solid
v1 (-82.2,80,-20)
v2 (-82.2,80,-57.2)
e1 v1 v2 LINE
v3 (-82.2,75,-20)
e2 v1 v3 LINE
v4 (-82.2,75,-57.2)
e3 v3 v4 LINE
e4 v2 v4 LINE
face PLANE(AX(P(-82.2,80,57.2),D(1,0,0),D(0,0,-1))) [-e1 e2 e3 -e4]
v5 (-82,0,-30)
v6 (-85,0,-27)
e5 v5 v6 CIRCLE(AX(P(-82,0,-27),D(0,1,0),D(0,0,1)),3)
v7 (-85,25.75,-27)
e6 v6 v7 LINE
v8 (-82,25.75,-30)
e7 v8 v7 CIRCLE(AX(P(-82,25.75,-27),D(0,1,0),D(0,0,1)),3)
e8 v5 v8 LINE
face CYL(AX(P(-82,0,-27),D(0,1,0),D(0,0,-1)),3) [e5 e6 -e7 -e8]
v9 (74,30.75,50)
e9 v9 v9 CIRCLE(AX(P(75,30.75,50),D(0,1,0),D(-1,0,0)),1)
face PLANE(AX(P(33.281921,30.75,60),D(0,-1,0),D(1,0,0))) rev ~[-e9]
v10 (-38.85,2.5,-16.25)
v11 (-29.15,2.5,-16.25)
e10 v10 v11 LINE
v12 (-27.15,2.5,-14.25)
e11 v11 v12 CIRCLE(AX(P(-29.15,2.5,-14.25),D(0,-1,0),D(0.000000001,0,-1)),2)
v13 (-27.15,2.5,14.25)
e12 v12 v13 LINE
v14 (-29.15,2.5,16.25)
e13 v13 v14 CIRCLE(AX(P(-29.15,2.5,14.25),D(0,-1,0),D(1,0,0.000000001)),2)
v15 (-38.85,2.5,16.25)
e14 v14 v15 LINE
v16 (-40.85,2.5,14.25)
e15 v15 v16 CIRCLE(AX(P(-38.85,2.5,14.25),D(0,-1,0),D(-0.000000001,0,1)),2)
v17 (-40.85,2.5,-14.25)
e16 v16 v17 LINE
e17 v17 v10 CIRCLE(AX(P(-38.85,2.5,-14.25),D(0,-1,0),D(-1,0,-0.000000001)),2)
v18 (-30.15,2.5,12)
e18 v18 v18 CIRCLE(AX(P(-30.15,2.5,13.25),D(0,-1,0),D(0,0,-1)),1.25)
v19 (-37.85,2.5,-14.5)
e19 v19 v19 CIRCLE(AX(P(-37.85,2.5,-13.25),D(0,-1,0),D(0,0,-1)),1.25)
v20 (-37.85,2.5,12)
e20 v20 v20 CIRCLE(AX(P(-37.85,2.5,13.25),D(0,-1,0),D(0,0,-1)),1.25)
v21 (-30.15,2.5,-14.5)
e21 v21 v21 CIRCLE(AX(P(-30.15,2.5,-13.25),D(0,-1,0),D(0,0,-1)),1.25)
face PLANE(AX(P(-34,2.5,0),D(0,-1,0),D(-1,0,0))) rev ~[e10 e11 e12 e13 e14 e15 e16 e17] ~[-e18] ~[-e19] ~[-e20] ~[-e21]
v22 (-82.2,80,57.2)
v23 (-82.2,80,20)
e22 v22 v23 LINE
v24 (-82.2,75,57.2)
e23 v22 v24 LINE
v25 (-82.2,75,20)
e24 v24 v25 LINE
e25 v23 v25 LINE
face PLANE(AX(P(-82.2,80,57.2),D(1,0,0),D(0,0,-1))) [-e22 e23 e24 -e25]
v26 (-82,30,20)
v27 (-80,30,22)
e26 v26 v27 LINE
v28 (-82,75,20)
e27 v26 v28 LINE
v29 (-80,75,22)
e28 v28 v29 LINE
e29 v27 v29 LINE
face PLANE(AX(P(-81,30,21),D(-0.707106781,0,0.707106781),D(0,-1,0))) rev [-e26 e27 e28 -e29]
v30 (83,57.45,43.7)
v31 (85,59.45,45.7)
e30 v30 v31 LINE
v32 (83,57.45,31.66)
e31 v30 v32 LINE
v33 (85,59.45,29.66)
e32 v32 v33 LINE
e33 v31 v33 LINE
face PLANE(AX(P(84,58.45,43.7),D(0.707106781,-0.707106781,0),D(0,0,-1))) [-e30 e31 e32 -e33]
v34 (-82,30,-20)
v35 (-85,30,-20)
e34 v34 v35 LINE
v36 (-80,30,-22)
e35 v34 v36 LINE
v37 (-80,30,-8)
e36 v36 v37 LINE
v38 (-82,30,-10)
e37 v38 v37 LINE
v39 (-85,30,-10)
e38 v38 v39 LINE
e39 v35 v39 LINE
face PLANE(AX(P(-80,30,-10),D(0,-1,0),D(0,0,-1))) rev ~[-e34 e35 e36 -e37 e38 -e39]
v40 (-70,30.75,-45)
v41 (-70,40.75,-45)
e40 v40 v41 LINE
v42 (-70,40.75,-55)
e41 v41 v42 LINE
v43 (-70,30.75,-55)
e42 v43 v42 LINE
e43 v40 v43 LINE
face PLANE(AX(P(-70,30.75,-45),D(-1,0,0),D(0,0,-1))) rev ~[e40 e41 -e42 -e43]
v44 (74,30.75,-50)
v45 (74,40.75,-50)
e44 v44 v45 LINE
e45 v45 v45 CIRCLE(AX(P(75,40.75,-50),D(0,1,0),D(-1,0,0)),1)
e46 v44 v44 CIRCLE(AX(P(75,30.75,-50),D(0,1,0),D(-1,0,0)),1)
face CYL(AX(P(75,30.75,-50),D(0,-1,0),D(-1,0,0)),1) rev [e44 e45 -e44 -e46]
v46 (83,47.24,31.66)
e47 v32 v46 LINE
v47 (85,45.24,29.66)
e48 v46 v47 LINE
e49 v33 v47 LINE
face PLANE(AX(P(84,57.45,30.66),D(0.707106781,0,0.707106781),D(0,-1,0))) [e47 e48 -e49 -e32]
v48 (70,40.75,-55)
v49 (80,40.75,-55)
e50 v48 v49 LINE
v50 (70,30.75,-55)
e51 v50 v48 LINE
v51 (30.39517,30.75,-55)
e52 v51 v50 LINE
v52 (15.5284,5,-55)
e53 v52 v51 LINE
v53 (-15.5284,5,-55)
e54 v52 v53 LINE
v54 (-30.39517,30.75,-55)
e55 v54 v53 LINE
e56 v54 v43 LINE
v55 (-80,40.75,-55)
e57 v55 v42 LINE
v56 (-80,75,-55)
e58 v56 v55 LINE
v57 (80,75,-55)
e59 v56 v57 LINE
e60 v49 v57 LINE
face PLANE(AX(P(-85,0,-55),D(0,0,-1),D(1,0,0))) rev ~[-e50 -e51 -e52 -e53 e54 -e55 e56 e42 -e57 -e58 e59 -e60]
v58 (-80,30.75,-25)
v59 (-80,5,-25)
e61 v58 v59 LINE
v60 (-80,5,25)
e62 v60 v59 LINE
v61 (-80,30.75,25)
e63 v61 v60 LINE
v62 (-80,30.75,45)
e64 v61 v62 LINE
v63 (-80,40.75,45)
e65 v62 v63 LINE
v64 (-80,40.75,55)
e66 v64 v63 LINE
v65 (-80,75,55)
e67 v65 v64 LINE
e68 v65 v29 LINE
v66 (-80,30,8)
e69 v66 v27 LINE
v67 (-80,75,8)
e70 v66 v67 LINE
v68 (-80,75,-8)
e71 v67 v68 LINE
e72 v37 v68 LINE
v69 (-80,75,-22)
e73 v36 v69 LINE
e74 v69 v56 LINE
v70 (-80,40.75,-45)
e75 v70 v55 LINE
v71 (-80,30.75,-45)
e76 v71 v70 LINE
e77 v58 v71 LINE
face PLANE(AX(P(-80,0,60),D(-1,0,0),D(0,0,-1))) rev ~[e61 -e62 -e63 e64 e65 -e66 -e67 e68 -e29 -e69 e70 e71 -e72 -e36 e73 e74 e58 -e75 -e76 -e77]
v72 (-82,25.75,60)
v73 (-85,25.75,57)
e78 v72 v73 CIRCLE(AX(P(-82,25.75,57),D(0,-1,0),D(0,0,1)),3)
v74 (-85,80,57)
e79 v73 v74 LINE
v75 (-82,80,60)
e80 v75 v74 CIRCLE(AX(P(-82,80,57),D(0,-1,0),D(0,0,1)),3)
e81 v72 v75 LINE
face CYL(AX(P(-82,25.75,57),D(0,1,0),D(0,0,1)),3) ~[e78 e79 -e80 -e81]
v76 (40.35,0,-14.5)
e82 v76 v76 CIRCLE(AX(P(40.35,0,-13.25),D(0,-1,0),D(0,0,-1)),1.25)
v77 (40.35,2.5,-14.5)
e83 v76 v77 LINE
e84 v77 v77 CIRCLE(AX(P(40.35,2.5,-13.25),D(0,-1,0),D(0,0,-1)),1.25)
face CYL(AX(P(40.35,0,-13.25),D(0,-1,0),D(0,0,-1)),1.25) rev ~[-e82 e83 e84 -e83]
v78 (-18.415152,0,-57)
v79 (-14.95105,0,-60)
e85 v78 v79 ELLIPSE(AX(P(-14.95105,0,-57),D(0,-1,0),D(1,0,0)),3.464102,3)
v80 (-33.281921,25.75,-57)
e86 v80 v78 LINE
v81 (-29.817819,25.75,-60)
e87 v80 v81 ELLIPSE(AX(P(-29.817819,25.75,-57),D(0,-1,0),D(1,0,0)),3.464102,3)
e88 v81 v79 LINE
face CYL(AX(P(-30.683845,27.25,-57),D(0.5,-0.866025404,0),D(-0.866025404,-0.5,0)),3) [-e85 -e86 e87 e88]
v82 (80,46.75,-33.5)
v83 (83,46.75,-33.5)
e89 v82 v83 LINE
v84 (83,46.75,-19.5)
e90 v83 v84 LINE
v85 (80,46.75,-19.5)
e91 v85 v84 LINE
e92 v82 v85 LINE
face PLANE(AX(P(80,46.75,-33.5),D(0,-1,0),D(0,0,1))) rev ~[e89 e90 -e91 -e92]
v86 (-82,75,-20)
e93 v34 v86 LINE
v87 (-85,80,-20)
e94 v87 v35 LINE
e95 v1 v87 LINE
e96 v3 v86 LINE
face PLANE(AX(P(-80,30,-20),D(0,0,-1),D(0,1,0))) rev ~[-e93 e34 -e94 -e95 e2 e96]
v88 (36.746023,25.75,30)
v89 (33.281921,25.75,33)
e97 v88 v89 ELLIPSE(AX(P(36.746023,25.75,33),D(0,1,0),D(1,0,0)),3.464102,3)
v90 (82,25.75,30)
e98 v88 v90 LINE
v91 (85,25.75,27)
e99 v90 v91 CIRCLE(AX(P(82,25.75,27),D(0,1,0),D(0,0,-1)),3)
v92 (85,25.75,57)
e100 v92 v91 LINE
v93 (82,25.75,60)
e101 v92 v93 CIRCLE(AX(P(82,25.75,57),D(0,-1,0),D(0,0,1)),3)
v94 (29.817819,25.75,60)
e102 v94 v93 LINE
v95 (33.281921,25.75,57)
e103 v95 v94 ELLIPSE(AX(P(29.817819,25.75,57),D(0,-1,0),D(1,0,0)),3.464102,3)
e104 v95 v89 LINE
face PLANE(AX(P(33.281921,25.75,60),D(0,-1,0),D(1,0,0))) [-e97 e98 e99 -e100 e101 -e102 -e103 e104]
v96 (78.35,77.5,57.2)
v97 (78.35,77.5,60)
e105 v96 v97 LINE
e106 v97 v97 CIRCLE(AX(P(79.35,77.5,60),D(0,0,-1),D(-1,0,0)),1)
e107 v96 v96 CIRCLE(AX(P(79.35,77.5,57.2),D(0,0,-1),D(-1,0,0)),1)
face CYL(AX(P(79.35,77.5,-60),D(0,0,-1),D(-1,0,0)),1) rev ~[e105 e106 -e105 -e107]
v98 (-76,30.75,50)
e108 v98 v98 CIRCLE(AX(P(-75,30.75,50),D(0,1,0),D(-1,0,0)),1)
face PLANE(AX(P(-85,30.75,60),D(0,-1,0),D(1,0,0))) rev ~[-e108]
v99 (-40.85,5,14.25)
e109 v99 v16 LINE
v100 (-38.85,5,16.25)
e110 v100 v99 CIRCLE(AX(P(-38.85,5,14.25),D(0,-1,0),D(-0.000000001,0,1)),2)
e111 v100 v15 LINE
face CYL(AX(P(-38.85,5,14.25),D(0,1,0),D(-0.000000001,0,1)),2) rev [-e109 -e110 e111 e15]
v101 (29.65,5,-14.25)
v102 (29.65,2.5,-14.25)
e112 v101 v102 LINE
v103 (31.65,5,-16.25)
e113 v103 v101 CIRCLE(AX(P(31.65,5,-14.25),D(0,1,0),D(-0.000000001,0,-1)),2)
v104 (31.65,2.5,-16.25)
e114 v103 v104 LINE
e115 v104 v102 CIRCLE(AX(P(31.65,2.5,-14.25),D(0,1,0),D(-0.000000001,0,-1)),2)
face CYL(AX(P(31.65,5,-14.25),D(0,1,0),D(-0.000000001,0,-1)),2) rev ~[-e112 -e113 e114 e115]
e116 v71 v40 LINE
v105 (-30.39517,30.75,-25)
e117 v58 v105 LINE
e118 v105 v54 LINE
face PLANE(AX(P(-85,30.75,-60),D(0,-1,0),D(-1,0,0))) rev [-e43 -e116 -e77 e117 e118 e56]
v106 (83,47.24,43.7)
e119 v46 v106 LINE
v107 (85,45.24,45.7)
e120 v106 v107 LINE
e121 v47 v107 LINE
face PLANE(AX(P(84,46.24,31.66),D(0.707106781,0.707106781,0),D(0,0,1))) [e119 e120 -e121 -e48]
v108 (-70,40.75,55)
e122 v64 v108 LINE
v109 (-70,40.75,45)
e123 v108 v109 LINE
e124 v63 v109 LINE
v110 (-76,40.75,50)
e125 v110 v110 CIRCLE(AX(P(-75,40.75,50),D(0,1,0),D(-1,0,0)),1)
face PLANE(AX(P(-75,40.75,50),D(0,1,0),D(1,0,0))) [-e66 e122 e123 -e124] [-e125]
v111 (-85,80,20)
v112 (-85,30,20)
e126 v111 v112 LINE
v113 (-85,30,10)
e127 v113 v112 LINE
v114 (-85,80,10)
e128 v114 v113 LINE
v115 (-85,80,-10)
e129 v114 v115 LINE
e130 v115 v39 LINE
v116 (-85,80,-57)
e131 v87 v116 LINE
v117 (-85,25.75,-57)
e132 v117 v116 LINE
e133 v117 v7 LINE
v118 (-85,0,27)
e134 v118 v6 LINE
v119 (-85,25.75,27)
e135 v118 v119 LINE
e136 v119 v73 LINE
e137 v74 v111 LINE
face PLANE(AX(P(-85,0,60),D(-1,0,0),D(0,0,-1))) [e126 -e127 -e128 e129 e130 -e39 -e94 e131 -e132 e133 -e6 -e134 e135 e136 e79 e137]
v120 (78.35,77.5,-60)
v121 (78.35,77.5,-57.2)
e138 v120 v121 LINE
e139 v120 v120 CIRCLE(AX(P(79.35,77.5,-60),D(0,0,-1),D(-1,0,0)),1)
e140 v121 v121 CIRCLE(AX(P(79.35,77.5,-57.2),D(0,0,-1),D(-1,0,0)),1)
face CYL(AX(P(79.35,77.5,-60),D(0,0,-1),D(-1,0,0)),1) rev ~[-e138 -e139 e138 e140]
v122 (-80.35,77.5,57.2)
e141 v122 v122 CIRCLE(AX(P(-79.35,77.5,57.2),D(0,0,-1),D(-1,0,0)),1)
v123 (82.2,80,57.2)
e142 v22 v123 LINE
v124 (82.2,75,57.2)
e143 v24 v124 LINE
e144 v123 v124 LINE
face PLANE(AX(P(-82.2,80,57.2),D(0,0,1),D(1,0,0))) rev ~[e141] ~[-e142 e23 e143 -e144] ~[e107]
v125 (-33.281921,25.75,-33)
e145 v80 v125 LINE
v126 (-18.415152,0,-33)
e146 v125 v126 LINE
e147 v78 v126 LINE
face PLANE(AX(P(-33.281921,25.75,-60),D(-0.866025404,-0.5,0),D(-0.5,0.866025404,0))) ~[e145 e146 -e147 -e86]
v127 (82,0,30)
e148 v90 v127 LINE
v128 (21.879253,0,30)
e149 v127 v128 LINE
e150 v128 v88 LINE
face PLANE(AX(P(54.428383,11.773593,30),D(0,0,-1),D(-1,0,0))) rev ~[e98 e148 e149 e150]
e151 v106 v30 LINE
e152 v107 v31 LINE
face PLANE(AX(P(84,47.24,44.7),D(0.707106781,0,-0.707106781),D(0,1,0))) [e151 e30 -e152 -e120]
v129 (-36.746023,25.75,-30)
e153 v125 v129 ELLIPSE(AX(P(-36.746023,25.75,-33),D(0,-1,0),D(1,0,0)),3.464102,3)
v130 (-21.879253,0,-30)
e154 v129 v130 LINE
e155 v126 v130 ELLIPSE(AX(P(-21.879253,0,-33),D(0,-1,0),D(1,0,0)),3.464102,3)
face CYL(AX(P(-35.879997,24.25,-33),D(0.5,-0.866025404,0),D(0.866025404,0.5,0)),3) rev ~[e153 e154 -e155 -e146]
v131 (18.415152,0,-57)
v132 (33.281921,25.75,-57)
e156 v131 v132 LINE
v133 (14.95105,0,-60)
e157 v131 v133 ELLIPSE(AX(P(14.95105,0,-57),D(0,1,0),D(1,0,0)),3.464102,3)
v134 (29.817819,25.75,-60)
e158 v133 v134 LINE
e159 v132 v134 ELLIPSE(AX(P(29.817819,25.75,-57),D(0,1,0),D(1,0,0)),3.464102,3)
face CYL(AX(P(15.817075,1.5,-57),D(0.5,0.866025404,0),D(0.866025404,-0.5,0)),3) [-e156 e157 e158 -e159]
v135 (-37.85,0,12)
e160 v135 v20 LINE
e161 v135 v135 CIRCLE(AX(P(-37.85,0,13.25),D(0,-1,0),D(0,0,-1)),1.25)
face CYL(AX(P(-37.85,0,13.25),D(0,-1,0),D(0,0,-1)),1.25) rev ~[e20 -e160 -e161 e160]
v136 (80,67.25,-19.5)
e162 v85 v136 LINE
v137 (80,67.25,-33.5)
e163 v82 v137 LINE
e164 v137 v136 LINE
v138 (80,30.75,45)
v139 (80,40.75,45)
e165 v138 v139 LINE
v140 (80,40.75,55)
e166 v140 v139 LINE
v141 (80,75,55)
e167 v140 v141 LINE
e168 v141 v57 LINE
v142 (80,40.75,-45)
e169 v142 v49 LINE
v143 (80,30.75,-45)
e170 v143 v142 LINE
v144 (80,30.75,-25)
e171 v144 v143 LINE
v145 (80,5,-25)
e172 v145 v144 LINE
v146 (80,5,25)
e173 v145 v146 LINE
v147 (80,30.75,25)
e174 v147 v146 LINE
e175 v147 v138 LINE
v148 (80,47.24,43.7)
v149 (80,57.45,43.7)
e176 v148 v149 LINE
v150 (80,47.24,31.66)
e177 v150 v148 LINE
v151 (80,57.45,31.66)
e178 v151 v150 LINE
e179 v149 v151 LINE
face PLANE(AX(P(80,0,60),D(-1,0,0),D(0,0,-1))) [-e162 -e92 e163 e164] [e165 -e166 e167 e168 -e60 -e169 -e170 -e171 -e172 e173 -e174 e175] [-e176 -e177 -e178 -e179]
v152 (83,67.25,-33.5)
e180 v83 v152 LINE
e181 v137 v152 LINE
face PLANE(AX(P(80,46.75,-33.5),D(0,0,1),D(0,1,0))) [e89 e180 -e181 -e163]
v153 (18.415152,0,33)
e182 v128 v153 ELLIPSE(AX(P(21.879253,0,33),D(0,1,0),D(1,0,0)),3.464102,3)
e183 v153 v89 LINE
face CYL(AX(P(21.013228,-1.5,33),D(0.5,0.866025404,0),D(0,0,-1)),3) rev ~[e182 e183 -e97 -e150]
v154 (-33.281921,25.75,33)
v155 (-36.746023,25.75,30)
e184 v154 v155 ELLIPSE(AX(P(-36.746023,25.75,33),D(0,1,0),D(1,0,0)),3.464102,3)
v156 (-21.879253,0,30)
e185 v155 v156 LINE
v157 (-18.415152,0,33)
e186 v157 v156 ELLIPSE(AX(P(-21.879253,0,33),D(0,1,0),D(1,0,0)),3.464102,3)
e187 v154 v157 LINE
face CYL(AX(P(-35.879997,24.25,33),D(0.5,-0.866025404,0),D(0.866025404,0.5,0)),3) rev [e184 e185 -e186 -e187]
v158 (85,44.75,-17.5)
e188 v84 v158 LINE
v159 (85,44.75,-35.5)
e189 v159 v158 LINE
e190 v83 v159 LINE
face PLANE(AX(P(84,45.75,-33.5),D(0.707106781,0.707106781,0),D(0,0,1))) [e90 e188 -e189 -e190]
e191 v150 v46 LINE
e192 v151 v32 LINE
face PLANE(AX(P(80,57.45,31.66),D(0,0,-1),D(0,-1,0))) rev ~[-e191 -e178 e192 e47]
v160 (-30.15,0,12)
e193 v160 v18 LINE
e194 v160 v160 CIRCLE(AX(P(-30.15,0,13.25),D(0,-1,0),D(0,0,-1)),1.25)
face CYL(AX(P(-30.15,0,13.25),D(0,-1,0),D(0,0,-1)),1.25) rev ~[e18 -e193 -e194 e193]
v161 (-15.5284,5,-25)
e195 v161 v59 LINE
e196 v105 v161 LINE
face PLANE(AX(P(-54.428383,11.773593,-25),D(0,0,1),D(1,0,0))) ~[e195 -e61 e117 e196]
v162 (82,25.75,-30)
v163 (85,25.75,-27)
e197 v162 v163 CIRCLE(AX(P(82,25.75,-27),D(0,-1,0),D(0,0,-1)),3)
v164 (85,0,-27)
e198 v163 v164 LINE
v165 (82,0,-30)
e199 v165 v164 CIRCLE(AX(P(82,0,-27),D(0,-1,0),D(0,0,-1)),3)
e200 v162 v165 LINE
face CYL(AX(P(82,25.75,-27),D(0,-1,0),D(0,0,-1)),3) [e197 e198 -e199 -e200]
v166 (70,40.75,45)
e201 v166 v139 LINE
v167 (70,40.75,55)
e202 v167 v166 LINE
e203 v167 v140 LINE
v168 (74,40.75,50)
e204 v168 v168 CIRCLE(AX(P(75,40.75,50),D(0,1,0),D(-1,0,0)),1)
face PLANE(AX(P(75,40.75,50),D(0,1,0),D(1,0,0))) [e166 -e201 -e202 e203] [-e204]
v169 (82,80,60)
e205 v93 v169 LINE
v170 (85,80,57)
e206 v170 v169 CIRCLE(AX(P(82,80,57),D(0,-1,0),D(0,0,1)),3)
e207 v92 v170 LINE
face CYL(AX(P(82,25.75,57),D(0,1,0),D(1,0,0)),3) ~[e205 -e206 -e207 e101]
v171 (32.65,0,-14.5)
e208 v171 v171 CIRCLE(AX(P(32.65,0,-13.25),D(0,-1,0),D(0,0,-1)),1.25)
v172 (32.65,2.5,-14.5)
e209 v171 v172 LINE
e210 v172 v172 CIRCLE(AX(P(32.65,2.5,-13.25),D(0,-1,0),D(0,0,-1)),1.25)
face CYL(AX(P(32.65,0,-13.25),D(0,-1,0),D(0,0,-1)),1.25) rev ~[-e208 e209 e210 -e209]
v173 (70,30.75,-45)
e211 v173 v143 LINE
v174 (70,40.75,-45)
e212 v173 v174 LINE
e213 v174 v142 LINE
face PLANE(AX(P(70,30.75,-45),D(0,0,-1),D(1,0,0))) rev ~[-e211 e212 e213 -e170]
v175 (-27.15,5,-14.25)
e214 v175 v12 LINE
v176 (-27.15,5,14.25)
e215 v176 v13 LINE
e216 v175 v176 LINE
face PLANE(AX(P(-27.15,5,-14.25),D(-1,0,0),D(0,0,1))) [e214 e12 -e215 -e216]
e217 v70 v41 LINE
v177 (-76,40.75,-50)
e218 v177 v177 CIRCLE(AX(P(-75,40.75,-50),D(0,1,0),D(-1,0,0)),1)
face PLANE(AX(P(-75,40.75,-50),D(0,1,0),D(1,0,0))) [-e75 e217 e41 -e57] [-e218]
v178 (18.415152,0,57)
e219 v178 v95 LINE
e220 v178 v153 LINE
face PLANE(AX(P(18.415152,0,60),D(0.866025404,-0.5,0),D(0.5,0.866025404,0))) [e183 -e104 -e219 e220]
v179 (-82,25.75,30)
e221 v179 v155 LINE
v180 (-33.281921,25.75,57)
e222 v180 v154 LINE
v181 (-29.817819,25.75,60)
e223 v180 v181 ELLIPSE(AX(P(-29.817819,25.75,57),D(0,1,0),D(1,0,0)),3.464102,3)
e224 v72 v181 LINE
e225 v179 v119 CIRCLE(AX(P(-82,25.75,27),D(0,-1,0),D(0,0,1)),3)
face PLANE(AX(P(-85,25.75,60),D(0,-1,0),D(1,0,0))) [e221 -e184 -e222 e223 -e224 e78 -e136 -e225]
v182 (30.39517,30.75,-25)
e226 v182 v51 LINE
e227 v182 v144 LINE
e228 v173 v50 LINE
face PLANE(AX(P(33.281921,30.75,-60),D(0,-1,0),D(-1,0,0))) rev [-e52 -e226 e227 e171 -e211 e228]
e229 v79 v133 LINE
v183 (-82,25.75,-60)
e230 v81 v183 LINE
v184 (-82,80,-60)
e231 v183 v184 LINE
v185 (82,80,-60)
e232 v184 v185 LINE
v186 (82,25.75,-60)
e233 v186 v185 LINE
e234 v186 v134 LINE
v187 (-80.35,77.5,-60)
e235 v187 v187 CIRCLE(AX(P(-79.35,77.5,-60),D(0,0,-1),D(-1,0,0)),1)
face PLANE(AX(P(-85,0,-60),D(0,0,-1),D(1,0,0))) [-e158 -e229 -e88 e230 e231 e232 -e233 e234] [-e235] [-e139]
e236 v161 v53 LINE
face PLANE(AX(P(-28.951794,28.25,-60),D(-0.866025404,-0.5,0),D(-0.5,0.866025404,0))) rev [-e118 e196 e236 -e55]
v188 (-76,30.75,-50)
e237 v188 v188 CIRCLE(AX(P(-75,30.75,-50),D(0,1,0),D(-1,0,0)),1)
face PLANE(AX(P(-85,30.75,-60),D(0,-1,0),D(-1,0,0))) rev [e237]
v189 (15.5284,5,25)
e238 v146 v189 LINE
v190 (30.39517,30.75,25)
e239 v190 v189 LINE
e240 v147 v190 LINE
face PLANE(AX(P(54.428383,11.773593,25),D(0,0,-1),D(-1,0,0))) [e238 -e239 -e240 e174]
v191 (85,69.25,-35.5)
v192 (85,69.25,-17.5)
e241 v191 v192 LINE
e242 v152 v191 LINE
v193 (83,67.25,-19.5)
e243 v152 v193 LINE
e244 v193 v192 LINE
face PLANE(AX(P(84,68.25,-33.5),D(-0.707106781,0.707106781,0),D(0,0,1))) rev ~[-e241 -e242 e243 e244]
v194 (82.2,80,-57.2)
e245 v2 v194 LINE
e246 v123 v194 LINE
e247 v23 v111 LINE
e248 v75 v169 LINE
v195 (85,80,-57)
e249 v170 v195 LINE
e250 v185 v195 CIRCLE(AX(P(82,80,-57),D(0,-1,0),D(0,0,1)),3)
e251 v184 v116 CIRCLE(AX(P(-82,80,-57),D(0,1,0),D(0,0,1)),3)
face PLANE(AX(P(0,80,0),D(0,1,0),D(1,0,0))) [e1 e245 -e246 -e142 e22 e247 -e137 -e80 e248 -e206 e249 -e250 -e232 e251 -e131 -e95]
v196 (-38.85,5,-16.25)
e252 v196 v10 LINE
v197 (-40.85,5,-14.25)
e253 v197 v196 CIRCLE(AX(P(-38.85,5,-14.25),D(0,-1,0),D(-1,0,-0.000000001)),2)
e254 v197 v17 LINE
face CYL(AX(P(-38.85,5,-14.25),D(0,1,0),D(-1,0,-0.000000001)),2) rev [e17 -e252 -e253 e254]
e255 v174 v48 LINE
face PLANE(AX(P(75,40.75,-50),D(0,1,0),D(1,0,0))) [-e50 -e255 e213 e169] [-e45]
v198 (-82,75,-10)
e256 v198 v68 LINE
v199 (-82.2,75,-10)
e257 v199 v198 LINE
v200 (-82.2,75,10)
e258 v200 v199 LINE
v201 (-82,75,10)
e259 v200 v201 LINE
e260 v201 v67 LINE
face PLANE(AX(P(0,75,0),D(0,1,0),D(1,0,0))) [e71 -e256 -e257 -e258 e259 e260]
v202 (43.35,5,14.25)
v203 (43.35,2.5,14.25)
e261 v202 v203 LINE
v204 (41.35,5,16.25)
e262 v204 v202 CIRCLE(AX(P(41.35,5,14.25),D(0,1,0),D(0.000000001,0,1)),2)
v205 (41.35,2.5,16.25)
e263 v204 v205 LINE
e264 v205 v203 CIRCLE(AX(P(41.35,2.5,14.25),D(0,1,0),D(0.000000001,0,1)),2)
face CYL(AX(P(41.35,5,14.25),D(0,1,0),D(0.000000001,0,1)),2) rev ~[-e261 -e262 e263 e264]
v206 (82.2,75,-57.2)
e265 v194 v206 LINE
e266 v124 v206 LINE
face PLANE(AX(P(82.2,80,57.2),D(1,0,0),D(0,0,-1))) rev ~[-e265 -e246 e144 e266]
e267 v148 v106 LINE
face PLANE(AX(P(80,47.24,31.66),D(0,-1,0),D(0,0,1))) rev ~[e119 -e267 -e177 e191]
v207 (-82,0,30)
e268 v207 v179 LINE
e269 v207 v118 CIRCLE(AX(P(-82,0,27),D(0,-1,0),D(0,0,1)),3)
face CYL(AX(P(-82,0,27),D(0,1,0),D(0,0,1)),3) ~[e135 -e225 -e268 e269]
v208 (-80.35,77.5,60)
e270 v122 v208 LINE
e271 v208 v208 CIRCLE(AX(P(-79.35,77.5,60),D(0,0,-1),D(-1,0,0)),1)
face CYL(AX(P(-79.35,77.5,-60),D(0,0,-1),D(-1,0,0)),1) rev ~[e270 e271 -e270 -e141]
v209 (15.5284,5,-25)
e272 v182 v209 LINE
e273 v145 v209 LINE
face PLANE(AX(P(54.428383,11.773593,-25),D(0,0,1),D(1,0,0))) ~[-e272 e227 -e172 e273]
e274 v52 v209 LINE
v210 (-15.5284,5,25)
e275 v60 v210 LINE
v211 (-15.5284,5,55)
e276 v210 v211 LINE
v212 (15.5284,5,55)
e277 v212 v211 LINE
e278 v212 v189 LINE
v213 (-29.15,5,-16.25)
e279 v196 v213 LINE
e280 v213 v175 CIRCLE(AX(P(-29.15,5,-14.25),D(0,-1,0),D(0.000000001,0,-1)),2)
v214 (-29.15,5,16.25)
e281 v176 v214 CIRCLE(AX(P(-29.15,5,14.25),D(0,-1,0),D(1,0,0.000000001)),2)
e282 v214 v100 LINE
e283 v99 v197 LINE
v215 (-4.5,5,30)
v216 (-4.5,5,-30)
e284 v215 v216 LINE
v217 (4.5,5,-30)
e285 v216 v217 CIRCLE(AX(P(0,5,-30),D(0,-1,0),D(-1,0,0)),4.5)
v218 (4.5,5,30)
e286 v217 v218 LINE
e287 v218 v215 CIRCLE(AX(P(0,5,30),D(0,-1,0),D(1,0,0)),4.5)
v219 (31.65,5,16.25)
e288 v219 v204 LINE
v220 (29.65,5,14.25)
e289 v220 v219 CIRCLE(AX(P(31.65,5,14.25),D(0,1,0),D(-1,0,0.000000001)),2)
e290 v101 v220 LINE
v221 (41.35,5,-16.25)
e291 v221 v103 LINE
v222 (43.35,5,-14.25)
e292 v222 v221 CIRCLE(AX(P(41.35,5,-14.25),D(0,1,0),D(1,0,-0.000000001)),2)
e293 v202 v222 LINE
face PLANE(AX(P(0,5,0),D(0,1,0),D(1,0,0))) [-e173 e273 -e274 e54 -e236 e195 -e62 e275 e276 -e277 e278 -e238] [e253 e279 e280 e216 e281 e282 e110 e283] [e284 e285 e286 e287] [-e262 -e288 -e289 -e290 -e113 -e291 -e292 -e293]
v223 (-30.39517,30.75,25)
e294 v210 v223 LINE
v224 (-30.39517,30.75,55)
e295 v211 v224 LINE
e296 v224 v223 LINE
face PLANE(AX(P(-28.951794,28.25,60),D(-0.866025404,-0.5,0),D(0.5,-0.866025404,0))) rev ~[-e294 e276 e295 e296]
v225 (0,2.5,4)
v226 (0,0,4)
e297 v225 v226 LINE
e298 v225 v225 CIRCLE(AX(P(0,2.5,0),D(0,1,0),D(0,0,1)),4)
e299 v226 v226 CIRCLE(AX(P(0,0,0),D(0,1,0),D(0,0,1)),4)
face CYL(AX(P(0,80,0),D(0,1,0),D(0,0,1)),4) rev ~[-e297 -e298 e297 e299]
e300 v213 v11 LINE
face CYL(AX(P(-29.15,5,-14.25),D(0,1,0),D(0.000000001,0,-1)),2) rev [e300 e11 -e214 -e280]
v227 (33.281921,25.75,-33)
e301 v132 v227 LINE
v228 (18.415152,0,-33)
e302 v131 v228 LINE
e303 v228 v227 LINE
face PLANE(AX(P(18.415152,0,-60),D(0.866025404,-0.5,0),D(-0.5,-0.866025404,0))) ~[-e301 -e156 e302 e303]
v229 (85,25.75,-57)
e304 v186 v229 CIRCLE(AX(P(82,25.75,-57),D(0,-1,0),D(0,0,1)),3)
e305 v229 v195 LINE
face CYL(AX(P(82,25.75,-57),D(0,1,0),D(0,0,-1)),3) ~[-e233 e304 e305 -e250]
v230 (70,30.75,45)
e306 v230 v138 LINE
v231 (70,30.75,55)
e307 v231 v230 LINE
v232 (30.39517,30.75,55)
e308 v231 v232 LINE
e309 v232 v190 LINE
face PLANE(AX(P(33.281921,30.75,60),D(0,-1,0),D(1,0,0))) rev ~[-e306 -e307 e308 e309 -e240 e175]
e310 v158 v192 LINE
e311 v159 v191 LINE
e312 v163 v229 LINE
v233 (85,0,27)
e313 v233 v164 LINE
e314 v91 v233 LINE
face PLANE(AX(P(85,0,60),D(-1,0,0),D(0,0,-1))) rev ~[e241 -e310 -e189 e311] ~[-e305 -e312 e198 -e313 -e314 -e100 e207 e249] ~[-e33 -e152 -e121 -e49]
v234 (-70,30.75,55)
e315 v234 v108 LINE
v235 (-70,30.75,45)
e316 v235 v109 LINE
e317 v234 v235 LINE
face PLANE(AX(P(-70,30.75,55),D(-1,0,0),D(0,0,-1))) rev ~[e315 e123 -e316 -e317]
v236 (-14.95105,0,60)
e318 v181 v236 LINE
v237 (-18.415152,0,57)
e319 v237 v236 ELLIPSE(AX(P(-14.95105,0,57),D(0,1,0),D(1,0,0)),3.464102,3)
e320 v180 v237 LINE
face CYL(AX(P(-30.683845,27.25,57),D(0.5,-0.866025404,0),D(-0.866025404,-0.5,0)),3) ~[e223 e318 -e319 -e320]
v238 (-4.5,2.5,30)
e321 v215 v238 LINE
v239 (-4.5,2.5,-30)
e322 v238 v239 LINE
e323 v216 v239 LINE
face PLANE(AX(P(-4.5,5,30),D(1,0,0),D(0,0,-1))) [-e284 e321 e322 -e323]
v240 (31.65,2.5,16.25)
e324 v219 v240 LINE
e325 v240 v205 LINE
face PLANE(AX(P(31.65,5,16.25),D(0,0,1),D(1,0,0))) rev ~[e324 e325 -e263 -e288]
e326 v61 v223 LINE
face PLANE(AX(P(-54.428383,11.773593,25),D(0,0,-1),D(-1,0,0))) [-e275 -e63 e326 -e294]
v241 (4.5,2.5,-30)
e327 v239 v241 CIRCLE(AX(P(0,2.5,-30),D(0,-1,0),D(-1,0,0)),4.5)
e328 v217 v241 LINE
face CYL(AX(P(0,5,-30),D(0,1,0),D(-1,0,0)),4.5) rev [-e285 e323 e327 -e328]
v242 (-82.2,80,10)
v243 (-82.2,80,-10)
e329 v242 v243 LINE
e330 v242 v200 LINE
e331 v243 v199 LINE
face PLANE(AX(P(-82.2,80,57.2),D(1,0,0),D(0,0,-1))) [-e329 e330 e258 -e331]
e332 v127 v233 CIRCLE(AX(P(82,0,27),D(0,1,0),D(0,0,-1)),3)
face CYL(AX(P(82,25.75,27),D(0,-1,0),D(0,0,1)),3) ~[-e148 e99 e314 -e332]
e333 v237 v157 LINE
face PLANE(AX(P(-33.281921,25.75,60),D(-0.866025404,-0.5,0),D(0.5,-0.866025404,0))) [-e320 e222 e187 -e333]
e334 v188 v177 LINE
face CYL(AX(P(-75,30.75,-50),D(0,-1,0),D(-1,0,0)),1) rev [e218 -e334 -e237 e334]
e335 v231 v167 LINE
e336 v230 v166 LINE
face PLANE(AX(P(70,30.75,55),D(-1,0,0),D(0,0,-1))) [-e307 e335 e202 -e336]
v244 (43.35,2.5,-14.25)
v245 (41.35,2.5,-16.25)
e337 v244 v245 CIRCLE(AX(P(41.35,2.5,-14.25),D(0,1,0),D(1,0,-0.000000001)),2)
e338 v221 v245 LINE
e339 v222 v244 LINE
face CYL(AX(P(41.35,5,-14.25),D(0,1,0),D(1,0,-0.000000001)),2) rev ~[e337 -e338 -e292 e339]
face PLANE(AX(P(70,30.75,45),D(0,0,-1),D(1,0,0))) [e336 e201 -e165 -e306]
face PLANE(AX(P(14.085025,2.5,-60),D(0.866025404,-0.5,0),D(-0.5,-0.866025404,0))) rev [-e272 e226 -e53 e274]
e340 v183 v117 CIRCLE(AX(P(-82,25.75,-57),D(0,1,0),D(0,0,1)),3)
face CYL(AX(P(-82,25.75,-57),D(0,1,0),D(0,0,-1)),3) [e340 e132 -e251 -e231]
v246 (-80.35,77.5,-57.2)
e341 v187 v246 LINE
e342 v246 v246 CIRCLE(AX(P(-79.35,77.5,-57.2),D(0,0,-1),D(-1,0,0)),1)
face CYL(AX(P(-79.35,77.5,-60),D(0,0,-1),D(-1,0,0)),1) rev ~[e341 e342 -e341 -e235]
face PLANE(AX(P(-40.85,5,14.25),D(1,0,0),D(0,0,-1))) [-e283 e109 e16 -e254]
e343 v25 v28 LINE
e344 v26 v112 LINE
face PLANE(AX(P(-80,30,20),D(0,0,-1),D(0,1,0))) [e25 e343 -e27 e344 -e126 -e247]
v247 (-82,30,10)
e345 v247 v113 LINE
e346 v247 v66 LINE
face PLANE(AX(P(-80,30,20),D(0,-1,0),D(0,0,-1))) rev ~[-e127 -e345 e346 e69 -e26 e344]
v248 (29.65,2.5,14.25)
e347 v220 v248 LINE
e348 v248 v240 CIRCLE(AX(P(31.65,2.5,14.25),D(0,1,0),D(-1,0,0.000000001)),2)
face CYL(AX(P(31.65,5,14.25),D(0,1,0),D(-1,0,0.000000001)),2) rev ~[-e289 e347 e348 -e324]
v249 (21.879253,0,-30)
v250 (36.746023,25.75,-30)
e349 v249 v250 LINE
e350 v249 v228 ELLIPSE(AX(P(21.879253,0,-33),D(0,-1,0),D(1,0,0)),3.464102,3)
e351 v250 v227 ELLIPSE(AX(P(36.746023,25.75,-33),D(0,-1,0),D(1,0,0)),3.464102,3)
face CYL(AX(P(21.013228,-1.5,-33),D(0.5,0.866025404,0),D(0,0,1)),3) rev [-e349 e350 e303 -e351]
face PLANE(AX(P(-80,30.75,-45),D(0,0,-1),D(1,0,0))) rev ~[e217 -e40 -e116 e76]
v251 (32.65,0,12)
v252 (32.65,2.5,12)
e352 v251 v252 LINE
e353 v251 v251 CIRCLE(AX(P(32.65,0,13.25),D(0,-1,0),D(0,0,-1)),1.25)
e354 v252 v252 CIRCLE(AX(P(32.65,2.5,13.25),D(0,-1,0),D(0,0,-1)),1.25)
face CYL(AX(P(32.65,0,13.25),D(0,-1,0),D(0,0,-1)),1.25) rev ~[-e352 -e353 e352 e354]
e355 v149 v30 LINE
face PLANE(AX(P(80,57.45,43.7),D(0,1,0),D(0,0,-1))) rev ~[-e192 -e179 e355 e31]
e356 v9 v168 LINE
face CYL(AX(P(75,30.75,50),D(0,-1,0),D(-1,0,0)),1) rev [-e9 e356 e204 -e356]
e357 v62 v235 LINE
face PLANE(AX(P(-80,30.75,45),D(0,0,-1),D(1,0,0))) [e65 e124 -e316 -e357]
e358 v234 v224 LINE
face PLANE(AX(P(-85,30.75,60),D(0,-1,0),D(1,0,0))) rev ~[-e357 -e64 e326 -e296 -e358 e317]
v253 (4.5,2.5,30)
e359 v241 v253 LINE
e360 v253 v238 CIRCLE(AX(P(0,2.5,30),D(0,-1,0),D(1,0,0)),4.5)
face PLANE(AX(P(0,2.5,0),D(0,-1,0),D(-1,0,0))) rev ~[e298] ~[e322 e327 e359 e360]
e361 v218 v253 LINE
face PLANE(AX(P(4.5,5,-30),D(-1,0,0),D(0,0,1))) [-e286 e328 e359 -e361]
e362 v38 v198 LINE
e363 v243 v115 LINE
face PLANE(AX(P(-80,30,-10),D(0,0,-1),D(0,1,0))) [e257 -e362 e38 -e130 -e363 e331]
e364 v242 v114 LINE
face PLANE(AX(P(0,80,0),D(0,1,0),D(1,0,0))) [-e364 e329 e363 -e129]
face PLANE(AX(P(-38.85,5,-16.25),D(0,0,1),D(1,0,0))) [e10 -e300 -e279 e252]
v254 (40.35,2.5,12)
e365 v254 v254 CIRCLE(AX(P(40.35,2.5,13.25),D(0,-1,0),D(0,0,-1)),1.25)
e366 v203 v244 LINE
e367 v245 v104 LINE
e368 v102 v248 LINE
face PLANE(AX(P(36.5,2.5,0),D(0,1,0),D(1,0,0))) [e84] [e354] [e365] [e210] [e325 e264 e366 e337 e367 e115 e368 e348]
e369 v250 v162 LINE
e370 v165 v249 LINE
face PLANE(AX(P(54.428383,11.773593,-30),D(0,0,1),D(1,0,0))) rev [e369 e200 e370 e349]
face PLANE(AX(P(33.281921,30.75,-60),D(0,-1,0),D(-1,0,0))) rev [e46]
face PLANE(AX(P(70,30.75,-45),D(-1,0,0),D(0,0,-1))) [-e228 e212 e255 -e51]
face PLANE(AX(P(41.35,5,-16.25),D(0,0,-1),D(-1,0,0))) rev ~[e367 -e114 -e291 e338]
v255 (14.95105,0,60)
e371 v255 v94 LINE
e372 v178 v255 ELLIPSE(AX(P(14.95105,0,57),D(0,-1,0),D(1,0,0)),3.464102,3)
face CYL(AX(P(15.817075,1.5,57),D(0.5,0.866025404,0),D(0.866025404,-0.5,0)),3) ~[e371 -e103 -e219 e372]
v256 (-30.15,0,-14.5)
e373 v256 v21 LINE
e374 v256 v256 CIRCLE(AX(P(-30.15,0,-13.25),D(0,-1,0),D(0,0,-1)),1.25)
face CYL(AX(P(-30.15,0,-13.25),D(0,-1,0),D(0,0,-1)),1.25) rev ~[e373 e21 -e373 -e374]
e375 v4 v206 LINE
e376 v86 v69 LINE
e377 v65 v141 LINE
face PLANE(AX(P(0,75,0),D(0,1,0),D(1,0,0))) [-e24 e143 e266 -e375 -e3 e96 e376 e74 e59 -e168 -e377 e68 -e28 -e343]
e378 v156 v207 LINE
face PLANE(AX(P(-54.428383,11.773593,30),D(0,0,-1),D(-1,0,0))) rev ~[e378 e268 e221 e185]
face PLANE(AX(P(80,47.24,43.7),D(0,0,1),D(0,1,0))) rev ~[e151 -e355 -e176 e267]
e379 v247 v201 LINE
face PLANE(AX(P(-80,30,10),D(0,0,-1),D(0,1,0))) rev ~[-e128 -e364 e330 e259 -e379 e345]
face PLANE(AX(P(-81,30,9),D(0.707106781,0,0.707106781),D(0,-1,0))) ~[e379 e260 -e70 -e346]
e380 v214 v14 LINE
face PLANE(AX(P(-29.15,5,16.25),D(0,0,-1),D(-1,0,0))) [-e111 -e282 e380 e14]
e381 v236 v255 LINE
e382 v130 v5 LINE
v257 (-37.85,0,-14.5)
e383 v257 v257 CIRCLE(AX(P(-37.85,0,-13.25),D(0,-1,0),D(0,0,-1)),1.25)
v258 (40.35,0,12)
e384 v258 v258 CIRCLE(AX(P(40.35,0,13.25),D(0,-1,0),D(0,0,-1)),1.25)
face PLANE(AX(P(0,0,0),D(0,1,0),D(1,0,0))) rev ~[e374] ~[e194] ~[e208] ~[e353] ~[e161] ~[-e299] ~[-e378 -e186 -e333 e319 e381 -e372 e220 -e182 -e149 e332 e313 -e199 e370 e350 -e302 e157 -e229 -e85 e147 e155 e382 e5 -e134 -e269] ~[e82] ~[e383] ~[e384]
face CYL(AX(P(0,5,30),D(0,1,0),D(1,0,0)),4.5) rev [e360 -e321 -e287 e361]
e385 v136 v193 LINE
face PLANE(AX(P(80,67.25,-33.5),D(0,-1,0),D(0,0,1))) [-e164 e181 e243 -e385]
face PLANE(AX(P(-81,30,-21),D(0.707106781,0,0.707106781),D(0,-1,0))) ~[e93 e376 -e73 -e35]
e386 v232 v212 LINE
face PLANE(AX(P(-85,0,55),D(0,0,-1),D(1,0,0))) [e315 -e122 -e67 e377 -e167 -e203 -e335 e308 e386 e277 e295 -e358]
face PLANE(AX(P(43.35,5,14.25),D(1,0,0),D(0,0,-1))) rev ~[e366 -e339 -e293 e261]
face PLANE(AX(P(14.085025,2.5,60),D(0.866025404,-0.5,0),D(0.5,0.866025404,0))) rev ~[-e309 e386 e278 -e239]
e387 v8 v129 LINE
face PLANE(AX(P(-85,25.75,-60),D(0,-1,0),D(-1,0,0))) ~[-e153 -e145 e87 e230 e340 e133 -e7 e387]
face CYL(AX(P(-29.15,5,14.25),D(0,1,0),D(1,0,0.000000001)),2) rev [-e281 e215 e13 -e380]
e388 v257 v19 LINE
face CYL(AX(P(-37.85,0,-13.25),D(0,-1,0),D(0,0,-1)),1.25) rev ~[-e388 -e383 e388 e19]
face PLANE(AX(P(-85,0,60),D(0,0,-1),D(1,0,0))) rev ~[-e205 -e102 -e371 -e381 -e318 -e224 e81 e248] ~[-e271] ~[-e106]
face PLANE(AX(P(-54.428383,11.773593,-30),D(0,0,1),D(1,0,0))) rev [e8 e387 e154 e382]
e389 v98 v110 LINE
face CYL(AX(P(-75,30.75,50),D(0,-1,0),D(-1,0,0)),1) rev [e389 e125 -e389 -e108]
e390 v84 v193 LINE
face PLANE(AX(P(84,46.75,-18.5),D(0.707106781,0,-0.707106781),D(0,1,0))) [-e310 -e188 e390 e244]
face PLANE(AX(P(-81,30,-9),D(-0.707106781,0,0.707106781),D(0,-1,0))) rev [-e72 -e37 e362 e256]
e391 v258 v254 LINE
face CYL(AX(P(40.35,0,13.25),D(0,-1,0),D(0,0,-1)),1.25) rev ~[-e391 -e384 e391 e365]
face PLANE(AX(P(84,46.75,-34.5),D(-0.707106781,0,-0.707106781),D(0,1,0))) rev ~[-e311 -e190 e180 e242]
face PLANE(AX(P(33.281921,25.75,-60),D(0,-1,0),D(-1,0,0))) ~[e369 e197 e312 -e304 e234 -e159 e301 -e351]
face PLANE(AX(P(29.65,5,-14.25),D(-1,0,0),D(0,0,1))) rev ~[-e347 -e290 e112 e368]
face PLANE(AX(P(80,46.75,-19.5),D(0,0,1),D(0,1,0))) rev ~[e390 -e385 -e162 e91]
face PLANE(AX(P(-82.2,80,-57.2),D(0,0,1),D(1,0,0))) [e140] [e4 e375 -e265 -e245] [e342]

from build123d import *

# Parameters (mm, degrees)
ESBO_O7_W                = 170
ESBO_O7_H                = 120
RESSALTO_EXTRUS_O4_DEPTH = 80
CORTE_EXTRUS_O9_DEPTH    = 30
CASCA1_T                 = -5
ESBO_O9_R                = 1.25
CORTE_EXTRUS_O4_DEPTH    = 132.244047484
CORTE_EXTRUS_O5_START    = -2.5
ESBO_O10_R               = 1.25
CORTE_EXTRUS_O5_DEPTH    = 2.5
ESBO_O13_R               = 4
CORTE_EXTRUS_O7_DEPTH    = 132.244047484
CORTE_EXTRUS_O8_DEPTH    = 2.5
ESBO_O22_W               = 14
ESBO_O22_H               = 20.5
ESBO_O22_W_2             = 12.04
ESBO_O22_H_2             = 10.21
CORTE_EXTRUS_O10_DEPTH   = 193.937813816
ESBO_O23_W               = 10
ESBO_O23_H               = 50
CORTE_EXTRUS_O11_DEPTH   = 193.937813816
CHANFRO1_SIZE            = 2
FILETE2_R                = 3
ESBO_O25_W               = 164.4
ESBO_O25_H               = 114.4
CORTE_EXTRUS_O12_DEPTH   = 5
ESBO_O26_R               = 1
CORTE_EXTRUS_O13_DEPTH   = 168.406690428
ESBO_O27_W               = 10
ESBO_O27_H               = 10
ESBO_O27_R               = 1
RESSALTO_EXTRUS_O7_DEPTH = 10
CHANFRO2_SIZE            = 2


with BuildPart() as part:
    # Esboço7 → Ressalto-extrusão4 (new body)
    with BuildSketch(Plane(origin=(0, 0, 0), x_dir=(1, 0, 0), z_dir=(0, 1, 0))):
        Rectangle(ESBO_O7_W, ESBO_O7_H)
    extrude(amount=RESSALTO_EXTRUS_O4_DEPTH)

    # Esboço17 → Corte-extrusão9 (cut)
    with BuildSketch(Plane.XY.offset(60)):
        Polygon((-85, 25.75), (-33.281920983, 25.75), (-18.415151551, 0), (-85, 0), align=None)
        Polygon((85, 0), (18.415151551, 0), (33.281920983, 25.75), (85, 25.75), align=None)
    corte_extrus_o9 = extrude(amount=-CORTE_EXTRUS_O9_DEPTH, mode=Mode.SUBTRACT)

    # Espelhar3: Corte-extrusão9 across plane
    add(corte_extrus_o9.mirror(Plane.XY), mode=Mode.SUBTRACT)

    # Casca1
    casca1_openings = [part.faces().sort_by_distance(p)[0] for p in [
        (0, 80, 0),
    ]]
    offset(amount=CASCA1_T, openings=casca1_openings, kind=Kind.INTERSECTION)

    # Esboço9 → Corte-extrusão4 (cut, through all)
    with BuildSketch(Plane.XZ):
        with Locations((40.35, -13.25)):
            Circle(ESBO_O9_R)
        with Locations((32.65, -13.25)):
            Circle(ESBO_O9_R)
        with Locations((40.35, 13.25)):
            Circle(ESBO_O9_R)
        with Locations((32.65, 13.25)):
            Circle(ESBO_O9_R)
        with Locations((-30.15, 13.25)):
            Circle(ESBO_O9_R)
        with Locations((-37.85, 13.25)):
            Circle(ESBO_O9_R)
        with Locations((-30.15, -13.25)):
            Circle(ESBO_O9_R)
        with Locations((-37.85, -13.25)):
            Circle(ESBO_O9_R)
    extrude(amount=-CORTE_EXTRUS_O4_DEPTH, mode=Mode.SUBTRACT)

    # Esboço10 → Corte-extrusão5 (cut)
    # profile 1 of 2: a face of its own
    with BuildSketch(Plane(origin=(0, 5, 0), x_dir=(1, 0, 0), z_dir=(0, 1, 0)).offset(CORTE_EXTRUS_O5_START)):
        with BuildLine():
            ThreePointArc((43.35, 14.25), (42.764213562, 15.664213562), (41.35, 16.25))
            Line((41.35, 16.25), (31.65, 16.25))
            ThreePointArc((31.65, 16.25), (30.235786438, 15.664213562), (29.65, 14.25))
            Line((29.65, 14.25), (29.65, -14.25))
            ThreePointArc((29.65, -14.25), (30.235786438, -15.664213562), (31.65, -16.25))
            Line((31.65, -16.25), (41.35, -16.25))
            ThreePointArc((41.35, -16.25), (42.764213562, -15.664213562), (43.35, -14.25))
            Line((43.35, -14.25), (43.35, 14.25))
        make_face()
    # profile 2 of 2: a face of its own
    with BuildSketch(Plane(origin=(0, 5, 0), x_dir=(1, 0, 0), z_dir=(0, 1, 0)).offset(CORTE_EXTRUS_O5_START)):
        with BuildLine():
            Line((-29.15, 16.25), (-38.85, 16.25))
            ThreePointArc((-38.85, 16.25), (-40.264213562, 15.664213562), (-40.85, 14.25))
            Line((-40.85, 14.25), (-40.85, -14.25))
            ThreePointArc((-40.85, -14.25), (-40.264213562, -15.664213562), (-38.85, -16.25))
            Line((-38.85, -16.25), (-29.15, -16.25))
            ThreePointArc((-29.15, -16.25), (-27.735786438, -15.664213562), (-27.15, -14.25))
            Line((-27.15, -14.25), (-27.15, 14.25))
            ThreePointArc((-27.15, 14.25), (-27.735786438, 15.664213562), (-29.15, 16.25))
        make_face()
        with Locations((-37.85, -13.25)):
            Circle(ESBO_O10_R, mode=Mode.SUBTRACT)
        with Locations((-30.15, -13.25)):
            Circle(ESBO_O10_R, mode=Mode.SUBTRACT)
        with Locations((-37.85, 13.25)):
            Circle(ESBO_O10_R, mode=Mode.SUBTRACT)
        with Locations((-30.15, 13.25)):
            Circle(ESBO_O10_R, mode=Mode.SUBTRACT)
    extrude(amount=CORTE_EXTRUS_O5_DEPTH, mode=Mode.SUBTRACT)

    # Esboço13 → Corte-extrusão7 (cut, through all)
    with BuildSketch(Plane(origin=(0, 80, 0), x_dir=(1, 0, 0), z_dir=(0, 1, 0))):
        Circle(ESBO_O13_R)
    extrude(amount=-CORTE_EXTRUS_O7_DEPTH, mode=Mode.SUBTRACT)

    # Esboço14 → Corte-extrusão8 (cut)
    with BuildSketch(Plane(origin=(0, 5, 0), x_dir=(1, 0, 0), z_dir=(0, 1, 0))):
        with BuildLine():
            Line((-4.5, -30), (-4.5, 30))
            ThreePointArc((-4.5, 30), (0, 34.5), (4.5, 30))
            Line((4.5, 30), (4.5, -30))
            ThreePointArc((4.5, -30), (0, -34.5), (-4.5, -30))
        make_face()
    extrude(amount=-CORTE_EXTRUS_O8_DEPTH, mode=Mode.SUBTRACT)

    # Esboço22 → Corte-extrusão10 (cut, through all)
    with BuildSketch(Plane.ZY.offset(-80)):
        with Locations((-26.5, 57)):
            Rectangle(ESBO_O22_W, ESBO_O22_H)
        with Locations((37.68, 52.345)):
            Rectangle(ESBO_O22_W_2, ESBO_O22_H_2)
    extrude(amount=-CORTE_EXTRUS_O10_DEPTH, mode=Mode.SUBTRACT)

    # Esboço23 → Corte-extrusão11 (cut, through all)
    with BuildSketch(Plane(origin=(-80, 0, 0), x_dir=(0, 0, -1), z_dir=(1, 0, 0))):
        with Locations((-15, 55)):
            Rectangle(ESBO_O23_W, ESBO_O23_H)
        with Locations((15, 55)):
            Rectangle(ESBO_O23_W, ESBO_O23_H)
    extrude(amount=-CORTE_EXTRUS_O11_DEPTH, mode=Mode.SUBTRACT)

    # Chanfro1
    chanfro1_edges = [part.edges().sort_by_distance(p)[0] for p in [
        (-80, 55, 20),
        (-80, 55, -20),
        (-80, 55, -10),
        (-80, 55, 10),
    ]]
    chamfer(chanfro1_edges, length=CHANFRO1_SIZE)

    # Filete2
    filete2_edges = [part.edges().sort_by_distance(p)[0] for p in [
        (85, 12.875, 30),
        (85, 12.875, -30),
        (25.848536267, 12.875, -30),
        (25.848536267, 12.875, -60),
        (-25.848536267, 12.875, -60),
        (-25.848536267, 12.875, -30),
        (-85, 12.875, -30),
        (-85, 12.875, 30),
        (-25.848536267, 12.875, 30),
        (25.848536267, 12.875, 30),
        (25.848536267, 12.875, 60),
        (-25.848536267, 12.875, 60),
        (-85, 52.875, 60),
        (-85, 52.875, -60),
        (85, 52.875, -60),
        (85, 52.875, 60),
    ]]
    fillet(filete2_edges, radius=FILETE2_R)

    # Esboço25 → Corte-extrusão12 (cut)
    with BuildSketch(Plane(origin=(0, 80, 0), x_dir=(1, 0, 0), z_dir=(0, 1, 0))):
        Rectangle(ESBO_O25_W, ESBO_O25_H)
    extrude(amount=-CORTE_EXTRUS_O12_DEPTH, mode=Mode.SUBTRACT)

    # Esboço26 → Corte-extrusão13 (cut, through all)
    with BuildSketch(Plane(origin=(0, 0, -60), x_dir=(-1, 0, 0), z_dir=(0, 0, -1))):
        with Locations((-79.35, 77.5)):
            Circle(ESBO_O26_R)
        with Locations((79.35, 77.5)):
            Circle(ESBO_O26_R)
    extrude(amount=-CORTE_EXTRUS_O13_DEPTH, mode=Mode.SUBTRACT)

    # Esboço27 → Ressalto-extrusão7 (add)
    # profile 1 of 4: a face of its own
    with BuildSketch(Plane(origin=(0, 30.75, 0), x_dir=(1, 0, 0), z_dir=(0, 1, 0))):
        with Locations((-75, 50)):
            Rectangle(ESBO_O27_W, ESBO_O27_H)
        with Locations((-75, 50)):
            Circle(ESBO_O27_R, mode=Mode.SUBTRACT)
    # profile 2 of 4: a face of its own
    with BuildSketch(Plane(origin=(0, 30.75, 0), x_dir=(1, 0, 0), z_dir=(0, 1, 0))):
        with Locations((75, 50)):
            Rectangle(ESBO_O27_W, ESBO_O27_H)
        with Locations((75, 50)):
            Circle(ESBO_O27_R, mode=Mode.SUBTRACT)
    # profile 3 of 4: a face of its own
    with BuildSketch(Plane(origin=(0, 30.75, 0), x_dir=(1, 0, 0), z_dir=(0, 1, 0))):
        with Locations((75, -50)):
            Rectangle(ESBO_O27_W, ESBO_O27_H)
        with Locations((75, -50)):
            Circle(ESBO_O27_R, mode=Mode.SUBTRACT)
    # profile 4 of 4: a face of its own
    with BuildSketch(Plane(origin=(0, 30.75, 0), x_dir=(1, 0, 0), z_dir=(0, 1, 0))):
        with Locations((-75, -50)):
            Rectangle(ESBO_O27_W, ESBO_O27_H)
        with Locations((-75, -50)):
            Circle(ESBO_O27_R, mode=Mode.SUBTRACT)
    extrude(amount=RESSALTO_EXTRUS_O7_DEPTH)

    # Chanfro2
    chanfro2_edges = [part.edges().sort_by_distance(p)[0] for p in [
        (85, 47.24, 37.68),
        (85, 52.345, 43.7),
        (85, 57.45, 37.68),
        (85, 52.345, 31.66),
        (85, 46.75, -26.5),
        (85, 57, -19.5),
        (85, 67.25, -26.5),
        (85, 57, -33.5),
    ]]
    chamfer(chanfro2_edges, length=CHANFRO2_SIZE)


solid = part.part
